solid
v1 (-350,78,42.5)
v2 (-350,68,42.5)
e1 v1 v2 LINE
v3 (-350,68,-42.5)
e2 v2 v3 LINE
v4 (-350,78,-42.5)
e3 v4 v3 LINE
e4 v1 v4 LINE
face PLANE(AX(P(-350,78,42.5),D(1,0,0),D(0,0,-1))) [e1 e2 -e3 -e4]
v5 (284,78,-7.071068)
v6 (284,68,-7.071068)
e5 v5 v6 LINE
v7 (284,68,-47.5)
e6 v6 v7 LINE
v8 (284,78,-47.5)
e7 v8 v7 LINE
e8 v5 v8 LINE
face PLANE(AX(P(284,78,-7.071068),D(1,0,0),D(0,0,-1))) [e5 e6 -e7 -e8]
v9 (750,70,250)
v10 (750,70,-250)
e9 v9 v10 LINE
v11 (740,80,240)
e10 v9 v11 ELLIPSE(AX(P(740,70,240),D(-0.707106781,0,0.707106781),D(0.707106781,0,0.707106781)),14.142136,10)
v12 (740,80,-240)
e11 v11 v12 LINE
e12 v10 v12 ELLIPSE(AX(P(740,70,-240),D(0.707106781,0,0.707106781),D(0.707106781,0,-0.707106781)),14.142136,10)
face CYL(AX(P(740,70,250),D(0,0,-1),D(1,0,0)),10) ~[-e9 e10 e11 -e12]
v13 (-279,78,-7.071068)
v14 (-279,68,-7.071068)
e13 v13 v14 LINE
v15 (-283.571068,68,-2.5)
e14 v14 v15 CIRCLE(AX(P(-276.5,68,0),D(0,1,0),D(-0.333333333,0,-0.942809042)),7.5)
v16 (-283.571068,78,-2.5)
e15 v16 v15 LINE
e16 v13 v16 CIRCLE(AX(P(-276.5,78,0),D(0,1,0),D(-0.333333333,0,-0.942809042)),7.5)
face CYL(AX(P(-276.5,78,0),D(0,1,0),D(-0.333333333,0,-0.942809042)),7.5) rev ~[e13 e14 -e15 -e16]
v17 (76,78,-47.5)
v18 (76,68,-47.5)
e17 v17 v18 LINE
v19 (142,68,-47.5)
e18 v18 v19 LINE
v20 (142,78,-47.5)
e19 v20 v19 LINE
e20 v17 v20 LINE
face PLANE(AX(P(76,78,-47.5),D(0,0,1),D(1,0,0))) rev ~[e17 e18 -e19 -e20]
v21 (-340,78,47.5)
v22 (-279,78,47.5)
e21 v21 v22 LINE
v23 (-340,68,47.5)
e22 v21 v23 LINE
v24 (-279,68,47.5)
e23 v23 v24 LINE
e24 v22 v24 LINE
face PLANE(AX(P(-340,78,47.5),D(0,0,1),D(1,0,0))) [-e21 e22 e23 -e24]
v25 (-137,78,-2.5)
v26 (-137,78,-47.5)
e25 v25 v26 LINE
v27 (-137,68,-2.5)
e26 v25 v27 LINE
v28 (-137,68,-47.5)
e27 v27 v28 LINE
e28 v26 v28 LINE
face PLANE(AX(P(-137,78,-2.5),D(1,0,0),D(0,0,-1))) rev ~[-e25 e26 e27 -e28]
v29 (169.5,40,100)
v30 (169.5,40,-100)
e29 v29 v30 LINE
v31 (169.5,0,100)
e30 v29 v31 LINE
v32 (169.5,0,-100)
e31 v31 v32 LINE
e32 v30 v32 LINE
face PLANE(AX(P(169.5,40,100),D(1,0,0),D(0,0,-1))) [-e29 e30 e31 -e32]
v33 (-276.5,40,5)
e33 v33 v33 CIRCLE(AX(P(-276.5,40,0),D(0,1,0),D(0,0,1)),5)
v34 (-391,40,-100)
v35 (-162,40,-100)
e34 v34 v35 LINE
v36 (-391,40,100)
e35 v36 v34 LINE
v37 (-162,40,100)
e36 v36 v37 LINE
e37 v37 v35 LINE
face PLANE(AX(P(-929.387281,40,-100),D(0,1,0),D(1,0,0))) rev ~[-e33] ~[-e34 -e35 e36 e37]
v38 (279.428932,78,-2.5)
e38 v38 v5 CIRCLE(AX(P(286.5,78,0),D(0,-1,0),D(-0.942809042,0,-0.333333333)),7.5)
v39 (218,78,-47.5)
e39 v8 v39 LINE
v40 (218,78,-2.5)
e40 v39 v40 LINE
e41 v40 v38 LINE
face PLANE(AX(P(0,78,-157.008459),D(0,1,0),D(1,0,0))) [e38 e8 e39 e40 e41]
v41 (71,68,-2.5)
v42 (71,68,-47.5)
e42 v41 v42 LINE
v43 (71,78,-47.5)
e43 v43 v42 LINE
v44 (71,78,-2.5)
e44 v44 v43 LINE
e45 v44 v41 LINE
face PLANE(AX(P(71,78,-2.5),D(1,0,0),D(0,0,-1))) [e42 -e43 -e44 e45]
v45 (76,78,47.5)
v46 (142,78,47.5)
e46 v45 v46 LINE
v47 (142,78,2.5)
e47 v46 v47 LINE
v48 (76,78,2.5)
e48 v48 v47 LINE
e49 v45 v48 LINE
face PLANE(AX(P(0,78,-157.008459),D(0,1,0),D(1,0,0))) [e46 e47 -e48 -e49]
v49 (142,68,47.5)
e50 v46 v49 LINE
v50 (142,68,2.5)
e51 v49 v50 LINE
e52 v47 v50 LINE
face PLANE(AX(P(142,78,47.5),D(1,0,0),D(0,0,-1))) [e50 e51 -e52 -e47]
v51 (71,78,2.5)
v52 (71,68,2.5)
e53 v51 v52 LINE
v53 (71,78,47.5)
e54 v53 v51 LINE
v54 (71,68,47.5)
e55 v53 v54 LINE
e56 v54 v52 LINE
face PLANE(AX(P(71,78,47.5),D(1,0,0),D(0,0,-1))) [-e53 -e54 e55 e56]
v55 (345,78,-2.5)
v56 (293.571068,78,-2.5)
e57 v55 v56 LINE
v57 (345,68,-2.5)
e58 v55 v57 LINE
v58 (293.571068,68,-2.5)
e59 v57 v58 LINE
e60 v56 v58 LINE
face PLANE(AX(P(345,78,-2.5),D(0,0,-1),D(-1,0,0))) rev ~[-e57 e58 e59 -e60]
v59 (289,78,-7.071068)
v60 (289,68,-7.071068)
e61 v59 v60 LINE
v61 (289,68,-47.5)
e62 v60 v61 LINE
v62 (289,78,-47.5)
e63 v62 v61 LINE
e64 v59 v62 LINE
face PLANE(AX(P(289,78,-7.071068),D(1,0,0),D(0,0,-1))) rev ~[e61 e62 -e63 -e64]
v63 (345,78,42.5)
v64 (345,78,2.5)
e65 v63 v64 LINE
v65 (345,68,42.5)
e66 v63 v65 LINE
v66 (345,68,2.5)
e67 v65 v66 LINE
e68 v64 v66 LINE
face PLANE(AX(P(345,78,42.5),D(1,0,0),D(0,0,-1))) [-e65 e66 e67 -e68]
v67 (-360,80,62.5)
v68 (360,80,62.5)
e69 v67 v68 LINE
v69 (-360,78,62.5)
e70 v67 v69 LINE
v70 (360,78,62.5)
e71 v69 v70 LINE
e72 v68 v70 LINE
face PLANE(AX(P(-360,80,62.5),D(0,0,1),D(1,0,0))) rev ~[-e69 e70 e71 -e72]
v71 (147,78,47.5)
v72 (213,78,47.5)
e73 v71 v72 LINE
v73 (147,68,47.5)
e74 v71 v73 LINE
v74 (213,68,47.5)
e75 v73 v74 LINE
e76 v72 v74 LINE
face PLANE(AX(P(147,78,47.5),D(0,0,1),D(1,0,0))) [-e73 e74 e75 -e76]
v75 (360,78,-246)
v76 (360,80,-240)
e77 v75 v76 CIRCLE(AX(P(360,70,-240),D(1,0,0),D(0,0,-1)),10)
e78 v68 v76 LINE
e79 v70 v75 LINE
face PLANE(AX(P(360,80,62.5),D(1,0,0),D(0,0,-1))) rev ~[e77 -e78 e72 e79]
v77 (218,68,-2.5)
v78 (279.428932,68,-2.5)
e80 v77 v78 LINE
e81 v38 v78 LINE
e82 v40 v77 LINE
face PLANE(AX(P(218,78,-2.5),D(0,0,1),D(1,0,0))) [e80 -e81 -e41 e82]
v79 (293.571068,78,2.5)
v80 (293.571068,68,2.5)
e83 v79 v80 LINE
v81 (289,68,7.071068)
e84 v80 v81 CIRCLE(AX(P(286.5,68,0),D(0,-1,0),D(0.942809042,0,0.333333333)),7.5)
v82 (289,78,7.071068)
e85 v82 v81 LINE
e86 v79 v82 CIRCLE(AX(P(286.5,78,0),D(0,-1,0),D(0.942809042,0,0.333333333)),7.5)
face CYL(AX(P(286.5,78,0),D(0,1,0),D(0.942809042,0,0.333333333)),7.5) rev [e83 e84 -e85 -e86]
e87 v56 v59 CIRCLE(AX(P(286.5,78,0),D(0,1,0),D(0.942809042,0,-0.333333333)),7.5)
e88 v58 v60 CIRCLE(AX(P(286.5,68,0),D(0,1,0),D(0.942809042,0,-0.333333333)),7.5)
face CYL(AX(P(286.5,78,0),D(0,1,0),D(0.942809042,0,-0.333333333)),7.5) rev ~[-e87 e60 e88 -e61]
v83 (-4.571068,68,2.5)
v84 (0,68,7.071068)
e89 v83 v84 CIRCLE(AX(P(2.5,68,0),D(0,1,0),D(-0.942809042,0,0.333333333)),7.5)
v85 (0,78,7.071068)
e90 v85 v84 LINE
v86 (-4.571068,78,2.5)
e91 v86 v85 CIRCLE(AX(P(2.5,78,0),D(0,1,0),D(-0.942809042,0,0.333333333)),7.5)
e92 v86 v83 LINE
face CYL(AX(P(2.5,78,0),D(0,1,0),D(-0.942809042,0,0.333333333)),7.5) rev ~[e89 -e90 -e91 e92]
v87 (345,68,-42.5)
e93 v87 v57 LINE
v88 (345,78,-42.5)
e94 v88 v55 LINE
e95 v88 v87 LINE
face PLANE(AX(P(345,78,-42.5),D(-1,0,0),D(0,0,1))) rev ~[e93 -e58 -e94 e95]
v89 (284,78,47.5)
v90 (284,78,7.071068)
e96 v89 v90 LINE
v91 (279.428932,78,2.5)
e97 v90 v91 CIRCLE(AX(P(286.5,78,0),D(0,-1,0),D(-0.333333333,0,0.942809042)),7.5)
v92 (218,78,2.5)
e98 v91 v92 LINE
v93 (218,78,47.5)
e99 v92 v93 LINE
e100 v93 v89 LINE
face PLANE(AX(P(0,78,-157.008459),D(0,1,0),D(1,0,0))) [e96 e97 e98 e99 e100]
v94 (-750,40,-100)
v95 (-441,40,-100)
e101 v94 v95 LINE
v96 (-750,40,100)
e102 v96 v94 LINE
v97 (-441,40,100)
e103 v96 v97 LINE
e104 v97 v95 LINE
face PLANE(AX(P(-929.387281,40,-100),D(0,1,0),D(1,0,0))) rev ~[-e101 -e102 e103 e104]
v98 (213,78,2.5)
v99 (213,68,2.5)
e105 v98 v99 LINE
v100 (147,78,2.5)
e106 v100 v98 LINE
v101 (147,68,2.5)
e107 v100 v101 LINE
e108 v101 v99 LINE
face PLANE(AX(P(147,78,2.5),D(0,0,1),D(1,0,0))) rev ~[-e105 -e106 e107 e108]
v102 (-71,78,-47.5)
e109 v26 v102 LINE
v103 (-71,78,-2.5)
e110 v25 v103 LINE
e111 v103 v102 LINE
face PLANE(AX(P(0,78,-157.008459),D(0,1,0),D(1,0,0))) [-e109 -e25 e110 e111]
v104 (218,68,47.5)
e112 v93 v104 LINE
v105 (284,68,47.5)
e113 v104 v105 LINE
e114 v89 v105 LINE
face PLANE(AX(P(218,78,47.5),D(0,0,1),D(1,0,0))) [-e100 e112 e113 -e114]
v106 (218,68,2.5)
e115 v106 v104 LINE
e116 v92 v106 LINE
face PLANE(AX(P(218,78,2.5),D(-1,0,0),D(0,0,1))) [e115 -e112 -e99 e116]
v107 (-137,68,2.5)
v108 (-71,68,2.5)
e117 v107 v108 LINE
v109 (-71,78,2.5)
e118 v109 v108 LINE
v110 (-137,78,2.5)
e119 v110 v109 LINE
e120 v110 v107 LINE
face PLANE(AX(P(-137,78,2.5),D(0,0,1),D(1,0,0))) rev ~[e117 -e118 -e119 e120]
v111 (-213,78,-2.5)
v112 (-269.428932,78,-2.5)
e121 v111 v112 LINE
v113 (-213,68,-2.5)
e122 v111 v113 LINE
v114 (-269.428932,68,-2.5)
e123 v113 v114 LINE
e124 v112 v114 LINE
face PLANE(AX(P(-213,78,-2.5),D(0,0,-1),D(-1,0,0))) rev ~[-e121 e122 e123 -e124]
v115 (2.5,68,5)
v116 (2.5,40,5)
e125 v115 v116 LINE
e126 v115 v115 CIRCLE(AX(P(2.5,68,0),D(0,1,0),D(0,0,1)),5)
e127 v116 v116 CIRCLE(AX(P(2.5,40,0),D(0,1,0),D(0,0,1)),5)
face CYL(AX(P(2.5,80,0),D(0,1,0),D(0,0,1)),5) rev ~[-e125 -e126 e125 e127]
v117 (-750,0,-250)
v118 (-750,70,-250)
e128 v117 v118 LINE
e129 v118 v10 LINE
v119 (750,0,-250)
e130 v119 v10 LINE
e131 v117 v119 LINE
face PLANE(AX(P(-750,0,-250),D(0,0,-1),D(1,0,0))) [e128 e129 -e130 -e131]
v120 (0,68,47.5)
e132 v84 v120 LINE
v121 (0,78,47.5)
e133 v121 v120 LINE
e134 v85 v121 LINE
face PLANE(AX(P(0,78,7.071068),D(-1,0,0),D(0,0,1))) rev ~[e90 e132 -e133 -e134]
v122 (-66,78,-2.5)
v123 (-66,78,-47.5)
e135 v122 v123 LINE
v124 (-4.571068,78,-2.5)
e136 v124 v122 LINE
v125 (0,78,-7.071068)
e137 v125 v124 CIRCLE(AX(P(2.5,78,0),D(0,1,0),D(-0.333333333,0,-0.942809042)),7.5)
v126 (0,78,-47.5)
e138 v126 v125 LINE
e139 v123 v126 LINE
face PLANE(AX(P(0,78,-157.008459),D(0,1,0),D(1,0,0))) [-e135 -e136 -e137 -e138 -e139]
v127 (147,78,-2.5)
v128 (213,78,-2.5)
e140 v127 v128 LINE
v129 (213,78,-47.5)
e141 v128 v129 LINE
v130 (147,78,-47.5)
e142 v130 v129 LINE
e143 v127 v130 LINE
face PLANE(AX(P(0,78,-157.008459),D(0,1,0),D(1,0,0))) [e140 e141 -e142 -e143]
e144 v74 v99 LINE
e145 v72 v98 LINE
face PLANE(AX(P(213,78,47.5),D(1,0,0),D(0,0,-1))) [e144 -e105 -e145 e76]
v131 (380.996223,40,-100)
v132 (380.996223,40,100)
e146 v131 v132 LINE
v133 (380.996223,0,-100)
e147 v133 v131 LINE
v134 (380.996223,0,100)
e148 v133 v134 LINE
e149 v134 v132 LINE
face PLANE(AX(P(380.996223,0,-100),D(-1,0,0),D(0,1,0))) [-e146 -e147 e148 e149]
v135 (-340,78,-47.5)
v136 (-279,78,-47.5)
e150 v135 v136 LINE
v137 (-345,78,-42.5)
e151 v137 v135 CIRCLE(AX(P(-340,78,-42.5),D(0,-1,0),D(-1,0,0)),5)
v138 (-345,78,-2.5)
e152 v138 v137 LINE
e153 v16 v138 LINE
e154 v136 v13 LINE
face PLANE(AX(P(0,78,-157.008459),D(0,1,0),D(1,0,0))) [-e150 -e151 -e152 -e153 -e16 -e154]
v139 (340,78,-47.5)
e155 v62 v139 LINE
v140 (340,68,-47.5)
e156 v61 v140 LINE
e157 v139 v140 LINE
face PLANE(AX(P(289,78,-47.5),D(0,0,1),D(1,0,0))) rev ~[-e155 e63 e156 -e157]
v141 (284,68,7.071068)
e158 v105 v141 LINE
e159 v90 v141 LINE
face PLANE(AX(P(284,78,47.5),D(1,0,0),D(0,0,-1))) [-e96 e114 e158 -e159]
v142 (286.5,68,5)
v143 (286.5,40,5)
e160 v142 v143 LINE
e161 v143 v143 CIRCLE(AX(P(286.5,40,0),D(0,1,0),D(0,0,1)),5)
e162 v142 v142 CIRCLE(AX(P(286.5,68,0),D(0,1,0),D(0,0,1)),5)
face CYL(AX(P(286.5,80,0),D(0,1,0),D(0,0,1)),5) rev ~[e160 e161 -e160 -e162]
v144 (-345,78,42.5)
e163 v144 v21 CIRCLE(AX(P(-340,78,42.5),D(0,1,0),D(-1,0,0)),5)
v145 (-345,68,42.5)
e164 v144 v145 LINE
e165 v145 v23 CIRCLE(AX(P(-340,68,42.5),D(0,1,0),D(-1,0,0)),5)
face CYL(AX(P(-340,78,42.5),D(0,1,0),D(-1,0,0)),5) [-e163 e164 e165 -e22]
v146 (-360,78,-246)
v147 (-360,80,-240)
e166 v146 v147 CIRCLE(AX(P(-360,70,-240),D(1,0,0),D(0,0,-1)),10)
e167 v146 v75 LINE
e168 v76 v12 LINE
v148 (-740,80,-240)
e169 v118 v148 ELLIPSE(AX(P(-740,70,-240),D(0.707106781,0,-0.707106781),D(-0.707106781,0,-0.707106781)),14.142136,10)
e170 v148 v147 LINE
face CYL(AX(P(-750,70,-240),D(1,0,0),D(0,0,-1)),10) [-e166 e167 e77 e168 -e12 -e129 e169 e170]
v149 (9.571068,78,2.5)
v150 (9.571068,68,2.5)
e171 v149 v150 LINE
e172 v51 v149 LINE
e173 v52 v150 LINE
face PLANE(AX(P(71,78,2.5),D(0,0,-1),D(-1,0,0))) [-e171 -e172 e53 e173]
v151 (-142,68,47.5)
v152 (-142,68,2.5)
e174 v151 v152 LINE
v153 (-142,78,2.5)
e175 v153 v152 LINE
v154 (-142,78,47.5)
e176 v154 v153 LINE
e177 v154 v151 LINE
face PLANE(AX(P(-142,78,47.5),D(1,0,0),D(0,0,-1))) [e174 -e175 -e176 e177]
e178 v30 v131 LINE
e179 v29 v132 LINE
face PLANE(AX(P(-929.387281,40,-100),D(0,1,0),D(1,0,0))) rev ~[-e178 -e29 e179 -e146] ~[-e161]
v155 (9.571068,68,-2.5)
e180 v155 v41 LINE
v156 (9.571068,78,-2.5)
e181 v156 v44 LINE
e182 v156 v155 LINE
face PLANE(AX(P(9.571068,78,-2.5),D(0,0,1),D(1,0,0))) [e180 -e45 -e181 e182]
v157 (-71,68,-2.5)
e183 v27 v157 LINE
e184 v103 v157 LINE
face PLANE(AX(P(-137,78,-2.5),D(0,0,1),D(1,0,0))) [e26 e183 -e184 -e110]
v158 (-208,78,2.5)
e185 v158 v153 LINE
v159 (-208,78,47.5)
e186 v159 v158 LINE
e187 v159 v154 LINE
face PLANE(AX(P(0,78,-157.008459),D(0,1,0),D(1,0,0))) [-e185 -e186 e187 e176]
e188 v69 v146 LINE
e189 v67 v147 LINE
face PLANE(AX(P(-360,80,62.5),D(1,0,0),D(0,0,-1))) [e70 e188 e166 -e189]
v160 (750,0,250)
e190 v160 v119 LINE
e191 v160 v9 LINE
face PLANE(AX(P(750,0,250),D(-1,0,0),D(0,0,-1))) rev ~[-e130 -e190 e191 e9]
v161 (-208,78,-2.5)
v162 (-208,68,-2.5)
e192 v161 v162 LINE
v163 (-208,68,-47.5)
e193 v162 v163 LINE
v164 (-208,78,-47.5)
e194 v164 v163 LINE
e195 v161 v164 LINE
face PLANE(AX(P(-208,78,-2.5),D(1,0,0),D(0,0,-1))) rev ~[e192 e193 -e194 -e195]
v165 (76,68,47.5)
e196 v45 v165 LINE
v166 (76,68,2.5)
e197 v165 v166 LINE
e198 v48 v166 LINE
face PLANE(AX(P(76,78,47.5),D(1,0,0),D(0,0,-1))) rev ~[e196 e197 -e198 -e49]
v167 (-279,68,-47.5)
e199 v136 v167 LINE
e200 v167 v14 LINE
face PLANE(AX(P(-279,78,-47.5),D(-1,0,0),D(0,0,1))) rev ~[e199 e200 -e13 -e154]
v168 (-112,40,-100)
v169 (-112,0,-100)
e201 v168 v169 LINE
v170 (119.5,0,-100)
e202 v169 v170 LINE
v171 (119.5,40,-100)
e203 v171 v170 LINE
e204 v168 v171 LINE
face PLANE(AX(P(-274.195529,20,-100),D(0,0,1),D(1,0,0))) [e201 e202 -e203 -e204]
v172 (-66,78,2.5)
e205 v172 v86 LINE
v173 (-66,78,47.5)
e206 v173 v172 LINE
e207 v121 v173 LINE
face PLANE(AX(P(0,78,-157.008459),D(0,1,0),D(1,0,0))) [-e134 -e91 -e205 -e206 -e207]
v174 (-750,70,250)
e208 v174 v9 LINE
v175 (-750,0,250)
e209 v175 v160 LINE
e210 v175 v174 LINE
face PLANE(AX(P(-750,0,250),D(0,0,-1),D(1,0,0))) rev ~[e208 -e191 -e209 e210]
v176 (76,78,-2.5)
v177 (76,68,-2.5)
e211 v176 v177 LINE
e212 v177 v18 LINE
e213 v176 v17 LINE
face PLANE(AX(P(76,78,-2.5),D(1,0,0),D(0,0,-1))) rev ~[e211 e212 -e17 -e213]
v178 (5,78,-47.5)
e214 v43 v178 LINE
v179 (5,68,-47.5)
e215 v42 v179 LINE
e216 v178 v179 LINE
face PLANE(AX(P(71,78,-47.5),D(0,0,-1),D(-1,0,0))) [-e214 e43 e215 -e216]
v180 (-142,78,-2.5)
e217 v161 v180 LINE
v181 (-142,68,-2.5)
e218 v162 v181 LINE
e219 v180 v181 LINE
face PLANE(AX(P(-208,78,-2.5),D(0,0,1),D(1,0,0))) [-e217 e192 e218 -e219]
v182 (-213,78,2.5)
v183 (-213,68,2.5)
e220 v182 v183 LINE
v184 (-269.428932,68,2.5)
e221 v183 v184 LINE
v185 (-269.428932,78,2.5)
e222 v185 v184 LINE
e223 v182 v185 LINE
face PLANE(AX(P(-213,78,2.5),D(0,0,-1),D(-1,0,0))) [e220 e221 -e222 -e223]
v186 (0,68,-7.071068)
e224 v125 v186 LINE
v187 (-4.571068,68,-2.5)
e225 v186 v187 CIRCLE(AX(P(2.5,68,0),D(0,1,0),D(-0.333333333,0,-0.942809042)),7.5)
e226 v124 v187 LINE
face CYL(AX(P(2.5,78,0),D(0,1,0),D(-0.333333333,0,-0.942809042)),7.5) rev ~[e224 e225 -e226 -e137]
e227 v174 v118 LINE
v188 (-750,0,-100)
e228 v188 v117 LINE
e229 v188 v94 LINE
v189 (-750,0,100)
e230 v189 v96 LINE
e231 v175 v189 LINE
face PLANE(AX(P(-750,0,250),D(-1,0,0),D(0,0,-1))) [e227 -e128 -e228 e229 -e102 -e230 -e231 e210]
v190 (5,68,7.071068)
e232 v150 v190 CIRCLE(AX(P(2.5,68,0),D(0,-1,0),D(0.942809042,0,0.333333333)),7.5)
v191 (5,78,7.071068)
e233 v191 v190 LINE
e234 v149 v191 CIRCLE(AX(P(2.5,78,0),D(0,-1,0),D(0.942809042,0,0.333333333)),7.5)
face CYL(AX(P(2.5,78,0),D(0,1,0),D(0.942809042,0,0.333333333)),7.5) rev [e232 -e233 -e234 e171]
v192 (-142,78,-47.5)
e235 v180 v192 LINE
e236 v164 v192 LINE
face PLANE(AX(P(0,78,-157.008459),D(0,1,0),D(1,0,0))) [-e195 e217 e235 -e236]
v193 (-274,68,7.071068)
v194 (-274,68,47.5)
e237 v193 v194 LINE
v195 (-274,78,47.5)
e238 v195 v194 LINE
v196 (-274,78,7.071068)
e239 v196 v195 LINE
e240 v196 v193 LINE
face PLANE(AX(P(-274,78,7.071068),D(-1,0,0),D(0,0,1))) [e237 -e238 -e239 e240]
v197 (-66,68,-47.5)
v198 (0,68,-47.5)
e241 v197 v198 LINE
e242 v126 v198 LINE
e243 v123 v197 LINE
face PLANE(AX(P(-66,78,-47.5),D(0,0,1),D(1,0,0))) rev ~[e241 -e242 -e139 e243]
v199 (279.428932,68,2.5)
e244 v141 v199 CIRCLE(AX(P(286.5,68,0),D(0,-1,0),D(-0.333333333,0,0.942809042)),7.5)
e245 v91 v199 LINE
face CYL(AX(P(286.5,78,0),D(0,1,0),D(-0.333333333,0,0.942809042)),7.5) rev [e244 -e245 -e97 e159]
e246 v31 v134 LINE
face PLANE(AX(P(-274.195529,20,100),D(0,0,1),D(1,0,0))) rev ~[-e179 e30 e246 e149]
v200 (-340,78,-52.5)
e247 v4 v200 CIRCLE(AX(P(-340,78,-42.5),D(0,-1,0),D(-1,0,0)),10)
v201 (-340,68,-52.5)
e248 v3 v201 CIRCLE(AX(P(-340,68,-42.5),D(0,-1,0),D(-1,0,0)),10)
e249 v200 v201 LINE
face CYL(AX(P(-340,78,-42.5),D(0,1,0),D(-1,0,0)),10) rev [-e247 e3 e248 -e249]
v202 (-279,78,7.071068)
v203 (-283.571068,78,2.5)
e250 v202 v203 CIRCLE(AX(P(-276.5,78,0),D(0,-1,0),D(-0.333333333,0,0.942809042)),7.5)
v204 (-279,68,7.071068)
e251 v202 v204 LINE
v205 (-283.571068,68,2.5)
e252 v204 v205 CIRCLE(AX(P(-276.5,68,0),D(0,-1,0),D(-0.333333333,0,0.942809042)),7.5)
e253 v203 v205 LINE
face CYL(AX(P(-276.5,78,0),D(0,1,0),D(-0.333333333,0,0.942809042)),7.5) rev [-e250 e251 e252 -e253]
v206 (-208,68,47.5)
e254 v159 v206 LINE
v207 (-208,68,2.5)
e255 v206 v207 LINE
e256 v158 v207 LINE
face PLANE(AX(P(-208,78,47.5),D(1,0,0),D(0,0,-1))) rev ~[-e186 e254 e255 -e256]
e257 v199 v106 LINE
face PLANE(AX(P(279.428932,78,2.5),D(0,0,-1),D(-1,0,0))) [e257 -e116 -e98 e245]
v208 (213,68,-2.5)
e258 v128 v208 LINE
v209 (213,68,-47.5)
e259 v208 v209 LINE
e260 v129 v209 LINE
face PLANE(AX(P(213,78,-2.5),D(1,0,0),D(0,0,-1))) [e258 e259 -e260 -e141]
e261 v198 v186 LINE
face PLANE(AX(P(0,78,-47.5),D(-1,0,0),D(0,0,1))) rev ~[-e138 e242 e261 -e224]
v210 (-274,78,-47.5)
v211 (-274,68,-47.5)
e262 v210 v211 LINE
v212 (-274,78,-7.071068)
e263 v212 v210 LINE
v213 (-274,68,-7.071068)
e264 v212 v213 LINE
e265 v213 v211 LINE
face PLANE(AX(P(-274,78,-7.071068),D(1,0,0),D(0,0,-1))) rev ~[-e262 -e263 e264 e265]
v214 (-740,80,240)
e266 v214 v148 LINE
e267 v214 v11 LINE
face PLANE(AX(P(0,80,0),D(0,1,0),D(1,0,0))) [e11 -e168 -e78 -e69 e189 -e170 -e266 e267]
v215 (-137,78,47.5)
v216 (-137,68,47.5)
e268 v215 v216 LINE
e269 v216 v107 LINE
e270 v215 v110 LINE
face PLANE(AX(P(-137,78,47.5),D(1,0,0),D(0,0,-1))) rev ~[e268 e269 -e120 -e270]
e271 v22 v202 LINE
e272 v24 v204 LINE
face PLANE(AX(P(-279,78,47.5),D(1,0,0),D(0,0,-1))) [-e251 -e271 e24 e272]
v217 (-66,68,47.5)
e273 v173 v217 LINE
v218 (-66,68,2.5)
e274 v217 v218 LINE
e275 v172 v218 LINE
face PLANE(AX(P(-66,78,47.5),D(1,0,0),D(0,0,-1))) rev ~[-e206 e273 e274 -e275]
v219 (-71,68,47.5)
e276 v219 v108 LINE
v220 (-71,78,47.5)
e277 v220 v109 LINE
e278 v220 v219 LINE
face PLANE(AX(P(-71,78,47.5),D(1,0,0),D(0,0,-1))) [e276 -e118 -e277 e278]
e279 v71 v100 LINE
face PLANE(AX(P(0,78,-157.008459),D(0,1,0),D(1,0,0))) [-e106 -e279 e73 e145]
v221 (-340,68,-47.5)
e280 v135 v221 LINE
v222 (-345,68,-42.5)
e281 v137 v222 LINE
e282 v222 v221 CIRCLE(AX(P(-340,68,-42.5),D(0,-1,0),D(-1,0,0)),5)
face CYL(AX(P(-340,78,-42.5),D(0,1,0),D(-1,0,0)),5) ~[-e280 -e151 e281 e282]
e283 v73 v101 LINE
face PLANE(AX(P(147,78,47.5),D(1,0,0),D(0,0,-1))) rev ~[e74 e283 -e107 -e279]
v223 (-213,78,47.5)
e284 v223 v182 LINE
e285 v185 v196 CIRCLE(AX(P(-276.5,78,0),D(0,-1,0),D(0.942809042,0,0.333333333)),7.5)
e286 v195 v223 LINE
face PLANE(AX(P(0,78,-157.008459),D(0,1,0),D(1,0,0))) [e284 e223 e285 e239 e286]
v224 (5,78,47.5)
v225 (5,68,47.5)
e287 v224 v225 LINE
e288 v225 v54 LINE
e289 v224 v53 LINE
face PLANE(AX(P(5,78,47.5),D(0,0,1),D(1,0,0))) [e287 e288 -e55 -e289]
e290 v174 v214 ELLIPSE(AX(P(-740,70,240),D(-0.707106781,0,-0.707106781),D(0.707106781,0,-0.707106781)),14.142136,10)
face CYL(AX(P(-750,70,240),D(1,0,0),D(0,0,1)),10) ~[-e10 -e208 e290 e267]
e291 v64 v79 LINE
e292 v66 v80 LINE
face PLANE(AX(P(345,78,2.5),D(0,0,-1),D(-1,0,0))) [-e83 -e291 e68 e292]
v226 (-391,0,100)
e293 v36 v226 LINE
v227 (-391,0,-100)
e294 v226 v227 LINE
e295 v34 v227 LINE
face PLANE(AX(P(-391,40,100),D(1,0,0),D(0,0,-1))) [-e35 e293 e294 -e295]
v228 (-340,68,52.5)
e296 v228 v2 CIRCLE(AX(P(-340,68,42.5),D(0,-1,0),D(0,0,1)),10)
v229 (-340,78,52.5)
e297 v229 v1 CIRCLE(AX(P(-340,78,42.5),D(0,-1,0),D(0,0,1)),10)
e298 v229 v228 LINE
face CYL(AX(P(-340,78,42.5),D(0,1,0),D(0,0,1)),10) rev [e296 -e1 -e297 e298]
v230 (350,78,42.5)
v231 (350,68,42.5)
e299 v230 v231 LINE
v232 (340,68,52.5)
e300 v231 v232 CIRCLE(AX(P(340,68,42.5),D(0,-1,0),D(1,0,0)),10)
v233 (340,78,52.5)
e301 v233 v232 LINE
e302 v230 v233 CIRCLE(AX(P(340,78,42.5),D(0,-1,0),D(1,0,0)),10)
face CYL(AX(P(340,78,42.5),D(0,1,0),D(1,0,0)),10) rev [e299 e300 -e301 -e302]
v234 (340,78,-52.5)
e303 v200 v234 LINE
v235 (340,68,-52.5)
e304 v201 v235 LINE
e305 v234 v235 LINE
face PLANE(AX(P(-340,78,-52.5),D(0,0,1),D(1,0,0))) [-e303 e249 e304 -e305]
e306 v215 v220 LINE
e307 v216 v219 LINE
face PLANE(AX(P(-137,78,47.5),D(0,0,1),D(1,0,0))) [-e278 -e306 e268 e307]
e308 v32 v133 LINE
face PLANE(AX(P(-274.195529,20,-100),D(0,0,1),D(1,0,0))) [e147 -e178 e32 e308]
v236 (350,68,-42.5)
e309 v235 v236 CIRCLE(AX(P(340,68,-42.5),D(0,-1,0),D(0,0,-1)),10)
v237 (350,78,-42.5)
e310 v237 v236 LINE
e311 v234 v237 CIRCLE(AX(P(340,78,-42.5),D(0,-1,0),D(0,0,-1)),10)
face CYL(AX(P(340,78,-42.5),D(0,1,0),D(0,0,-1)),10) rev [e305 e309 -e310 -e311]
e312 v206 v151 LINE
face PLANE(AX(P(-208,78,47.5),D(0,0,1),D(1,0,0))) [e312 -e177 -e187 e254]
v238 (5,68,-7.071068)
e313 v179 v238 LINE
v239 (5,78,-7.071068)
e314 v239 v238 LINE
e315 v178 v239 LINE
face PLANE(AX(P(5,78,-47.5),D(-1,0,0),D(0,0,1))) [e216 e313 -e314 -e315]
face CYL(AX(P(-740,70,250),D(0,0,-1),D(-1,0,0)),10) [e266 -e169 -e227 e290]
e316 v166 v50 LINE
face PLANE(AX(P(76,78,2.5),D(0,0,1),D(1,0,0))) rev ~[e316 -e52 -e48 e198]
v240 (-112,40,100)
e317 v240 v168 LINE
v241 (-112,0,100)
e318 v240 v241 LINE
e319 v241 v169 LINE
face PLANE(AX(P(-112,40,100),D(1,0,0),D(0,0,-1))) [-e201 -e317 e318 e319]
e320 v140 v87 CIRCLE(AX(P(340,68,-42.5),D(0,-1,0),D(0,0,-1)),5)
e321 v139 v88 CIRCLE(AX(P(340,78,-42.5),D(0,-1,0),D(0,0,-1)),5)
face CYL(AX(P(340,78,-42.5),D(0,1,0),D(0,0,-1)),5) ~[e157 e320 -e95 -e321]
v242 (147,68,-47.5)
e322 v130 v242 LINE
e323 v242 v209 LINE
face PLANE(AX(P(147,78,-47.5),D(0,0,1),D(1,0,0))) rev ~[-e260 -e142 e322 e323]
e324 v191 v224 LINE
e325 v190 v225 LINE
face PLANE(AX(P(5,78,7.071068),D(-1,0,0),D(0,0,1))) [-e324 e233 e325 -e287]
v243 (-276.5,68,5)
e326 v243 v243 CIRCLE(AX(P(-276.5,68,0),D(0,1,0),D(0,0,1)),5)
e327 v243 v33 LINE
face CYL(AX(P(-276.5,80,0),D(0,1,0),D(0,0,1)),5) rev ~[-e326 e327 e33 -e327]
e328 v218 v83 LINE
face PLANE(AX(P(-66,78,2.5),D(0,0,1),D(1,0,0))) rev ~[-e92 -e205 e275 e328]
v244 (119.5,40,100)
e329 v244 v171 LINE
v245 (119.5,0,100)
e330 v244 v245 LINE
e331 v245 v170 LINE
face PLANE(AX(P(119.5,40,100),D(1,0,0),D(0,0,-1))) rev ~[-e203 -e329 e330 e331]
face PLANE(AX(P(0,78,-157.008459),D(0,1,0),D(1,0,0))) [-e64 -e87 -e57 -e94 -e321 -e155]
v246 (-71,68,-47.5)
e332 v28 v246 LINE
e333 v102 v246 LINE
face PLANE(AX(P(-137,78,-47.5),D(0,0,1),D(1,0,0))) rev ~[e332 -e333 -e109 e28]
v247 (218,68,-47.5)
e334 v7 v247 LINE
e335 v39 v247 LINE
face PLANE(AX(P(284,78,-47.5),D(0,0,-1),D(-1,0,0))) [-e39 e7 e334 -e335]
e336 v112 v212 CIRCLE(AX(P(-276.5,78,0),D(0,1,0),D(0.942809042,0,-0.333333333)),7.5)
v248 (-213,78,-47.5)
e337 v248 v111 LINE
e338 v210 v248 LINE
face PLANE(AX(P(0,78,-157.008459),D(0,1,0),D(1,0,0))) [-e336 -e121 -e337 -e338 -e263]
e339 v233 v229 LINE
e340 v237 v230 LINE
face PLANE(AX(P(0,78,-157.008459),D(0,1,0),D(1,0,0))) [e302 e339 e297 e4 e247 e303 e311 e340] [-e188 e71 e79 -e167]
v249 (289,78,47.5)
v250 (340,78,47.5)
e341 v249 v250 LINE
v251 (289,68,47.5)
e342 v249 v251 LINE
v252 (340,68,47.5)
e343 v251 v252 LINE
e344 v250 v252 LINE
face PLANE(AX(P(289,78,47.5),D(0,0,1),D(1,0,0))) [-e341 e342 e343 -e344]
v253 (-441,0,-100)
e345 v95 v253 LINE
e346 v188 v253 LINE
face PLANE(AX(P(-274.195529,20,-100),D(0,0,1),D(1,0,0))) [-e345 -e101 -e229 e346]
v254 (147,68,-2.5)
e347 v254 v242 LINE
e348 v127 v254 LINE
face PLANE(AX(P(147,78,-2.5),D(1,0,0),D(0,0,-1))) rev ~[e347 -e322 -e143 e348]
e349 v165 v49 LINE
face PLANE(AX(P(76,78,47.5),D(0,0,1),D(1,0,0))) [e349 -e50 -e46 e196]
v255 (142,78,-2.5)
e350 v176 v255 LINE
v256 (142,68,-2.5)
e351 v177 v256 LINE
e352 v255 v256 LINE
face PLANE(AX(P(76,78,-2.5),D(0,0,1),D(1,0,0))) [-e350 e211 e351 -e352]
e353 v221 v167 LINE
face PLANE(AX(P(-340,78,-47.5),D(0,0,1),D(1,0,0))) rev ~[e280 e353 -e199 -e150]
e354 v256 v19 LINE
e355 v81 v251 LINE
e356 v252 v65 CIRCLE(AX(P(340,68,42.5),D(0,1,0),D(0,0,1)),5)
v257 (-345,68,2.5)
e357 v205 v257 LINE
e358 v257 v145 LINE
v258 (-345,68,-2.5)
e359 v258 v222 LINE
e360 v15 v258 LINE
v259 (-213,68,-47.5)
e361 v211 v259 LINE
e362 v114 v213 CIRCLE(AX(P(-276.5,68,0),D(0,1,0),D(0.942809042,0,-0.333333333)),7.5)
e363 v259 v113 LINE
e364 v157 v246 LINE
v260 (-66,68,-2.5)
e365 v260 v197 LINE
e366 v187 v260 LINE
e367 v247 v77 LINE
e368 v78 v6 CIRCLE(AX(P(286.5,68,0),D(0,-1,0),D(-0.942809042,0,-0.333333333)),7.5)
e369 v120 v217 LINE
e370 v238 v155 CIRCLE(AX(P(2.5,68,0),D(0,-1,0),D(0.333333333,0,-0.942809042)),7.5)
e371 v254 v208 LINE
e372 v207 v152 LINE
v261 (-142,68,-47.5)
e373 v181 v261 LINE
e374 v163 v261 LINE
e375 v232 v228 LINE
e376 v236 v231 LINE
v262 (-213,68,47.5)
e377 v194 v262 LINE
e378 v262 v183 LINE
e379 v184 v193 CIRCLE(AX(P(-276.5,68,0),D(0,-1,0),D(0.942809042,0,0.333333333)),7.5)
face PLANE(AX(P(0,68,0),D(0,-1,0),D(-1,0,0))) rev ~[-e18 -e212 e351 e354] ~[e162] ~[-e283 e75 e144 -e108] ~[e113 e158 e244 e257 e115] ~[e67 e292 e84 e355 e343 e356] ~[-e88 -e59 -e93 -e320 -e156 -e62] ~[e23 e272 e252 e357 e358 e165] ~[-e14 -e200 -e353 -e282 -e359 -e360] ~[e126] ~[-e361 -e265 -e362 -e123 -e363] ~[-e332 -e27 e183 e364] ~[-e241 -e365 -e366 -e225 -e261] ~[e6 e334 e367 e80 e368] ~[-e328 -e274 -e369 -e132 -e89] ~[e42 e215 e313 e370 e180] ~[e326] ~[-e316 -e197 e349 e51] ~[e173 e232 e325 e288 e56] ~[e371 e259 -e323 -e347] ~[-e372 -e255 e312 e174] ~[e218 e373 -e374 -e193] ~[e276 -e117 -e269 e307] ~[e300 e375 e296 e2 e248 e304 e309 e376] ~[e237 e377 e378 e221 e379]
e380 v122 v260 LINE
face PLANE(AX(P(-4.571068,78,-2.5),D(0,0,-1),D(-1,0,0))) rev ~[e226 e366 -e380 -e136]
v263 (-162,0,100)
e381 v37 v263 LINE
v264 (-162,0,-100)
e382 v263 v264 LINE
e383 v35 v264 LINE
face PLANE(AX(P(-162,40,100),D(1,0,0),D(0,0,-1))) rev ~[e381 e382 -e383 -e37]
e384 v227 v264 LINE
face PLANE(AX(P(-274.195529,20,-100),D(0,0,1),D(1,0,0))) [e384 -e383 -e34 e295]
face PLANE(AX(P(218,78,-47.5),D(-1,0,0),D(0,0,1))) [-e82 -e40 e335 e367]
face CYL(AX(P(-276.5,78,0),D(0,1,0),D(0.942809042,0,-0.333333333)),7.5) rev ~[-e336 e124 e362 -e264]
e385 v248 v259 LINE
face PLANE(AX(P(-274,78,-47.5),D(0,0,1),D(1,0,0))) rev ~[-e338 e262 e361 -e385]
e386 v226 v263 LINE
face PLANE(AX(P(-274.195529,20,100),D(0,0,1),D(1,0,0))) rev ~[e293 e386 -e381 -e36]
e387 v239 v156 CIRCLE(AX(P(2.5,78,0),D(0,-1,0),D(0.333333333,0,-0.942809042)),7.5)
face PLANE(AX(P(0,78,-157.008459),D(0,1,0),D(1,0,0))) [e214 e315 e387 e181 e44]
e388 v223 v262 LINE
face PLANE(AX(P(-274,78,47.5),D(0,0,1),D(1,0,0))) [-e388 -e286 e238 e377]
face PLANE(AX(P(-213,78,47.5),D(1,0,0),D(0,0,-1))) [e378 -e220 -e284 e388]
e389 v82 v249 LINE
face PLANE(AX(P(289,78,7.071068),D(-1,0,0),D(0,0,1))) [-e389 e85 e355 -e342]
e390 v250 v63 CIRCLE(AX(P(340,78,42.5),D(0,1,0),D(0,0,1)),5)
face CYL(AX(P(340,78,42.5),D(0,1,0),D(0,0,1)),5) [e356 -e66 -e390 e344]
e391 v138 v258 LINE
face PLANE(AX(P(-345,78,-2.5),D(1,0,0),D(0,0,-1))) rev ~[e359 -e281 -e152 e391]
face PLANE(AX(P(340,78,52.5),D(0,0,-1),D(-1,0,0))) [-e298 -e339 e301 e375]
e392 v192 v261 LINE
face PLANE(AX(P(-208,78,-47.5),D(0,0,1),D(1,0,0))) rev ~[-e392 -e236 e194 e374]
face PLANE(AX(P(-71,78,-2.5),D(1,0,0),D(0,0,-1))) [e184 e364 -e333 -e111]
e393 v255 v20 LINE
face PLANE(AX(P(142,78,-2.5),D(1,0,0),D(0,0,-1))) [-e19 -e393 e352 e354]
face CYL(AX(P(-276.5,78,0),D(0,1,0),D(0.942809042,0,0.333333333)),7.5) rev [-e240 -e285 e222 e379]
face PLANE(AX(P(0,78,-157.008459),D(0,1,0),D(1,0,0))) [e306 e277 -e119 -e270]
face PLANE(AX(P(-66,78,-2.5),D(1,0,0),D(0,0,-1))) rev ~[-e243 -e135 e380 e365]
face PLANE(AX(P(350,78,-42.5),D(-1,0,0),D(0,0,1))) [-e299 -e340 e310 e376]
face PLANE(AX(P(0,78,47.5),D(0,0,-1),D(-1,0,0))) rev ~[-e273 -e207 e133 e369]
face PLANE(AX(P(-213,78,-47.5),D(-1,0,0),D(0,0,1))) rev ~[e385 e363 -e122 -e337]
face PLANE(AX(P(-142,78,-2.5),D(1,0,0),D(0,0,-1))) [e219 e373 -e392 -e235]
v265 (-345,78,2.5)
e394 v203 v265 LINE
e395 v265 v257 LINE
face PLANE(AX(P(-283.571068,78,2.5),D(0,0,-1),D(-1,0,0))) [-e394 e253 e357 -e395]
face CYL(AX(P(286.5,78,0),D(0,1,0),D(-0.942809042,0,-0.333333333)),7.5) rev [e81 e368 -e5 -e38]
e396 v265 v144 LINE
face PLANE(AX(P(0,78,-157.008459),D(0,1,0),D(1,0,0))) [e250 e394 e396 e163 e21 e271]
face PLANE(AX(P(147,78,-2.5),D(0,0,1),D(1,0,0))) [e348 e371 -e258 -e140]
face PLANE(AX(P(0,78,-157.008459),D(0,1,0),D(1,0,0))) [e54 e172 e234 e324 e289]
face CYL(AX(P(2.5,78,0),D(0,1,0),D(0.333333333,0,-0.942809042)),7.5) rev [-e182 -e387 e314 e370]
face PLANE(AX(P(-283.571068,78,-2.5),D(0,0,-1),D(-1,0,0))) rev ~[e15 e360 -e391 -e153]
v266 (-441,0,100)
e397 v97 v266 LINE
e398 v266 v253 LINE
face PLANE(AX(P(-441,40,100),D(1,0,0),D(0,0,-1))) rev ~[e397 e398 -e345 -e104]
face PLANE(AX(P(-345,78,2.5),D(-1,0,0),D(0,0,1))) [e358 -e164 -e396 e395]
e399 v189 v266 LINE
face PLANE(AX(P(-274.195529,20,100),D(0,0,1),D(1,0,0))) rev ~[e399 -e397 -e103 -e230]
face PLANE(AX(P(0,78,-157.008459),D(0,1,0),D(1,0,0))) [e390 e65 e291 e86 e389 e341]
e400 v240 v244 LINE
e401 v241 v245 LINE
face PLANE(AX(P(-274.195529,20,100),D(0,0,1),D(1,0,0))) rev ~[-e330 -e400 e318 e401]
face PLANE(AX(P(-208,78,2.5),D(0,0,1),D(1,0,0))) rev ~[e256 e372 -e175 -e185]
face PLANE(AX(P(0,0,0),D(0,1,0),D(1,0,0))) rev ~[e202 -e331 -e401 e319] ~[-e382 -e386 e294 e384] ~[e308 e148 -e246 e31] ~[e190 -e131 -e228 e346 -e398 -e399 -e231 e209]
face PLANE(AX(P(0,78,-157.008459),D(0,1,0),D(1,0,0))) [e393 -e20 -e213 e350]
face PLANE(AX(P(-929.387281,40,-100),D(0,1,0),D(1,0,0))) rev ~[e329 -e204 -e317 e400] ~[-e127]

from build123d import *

# Parameters (mm, degrees)
SKETCH1_W               = 1500
SKETCH1_H               = 500
BOSS_EXTRUDE1_DEPTH     = 80
FILLET2_R               = 10
CUT_EXTRUDE2_START      = 80
SKETCH7_W               = 720
SKETCH7_H               = 439.016917436
CUT_EXTRUDE2_DEPTH      = 2
CUT_EXTRUDE1_START      = 78
SKETCH5_W               = 66
SKETCH5_H               = 45
CUT_EXTRUDE1_DEPTH      = 10
CUT_EXTRUDE3_START      = 80
SKETCH8_R               = 5
CUT_EXTRUDE3_DEPTH      = 875.606821013
CUT_EXTRUDE4_DEPTH      = 100
CUT_EXTRUDE4_DEPTH_BACK = 100
SKETCH9_W               = 1310.383503898
SKETCH9_H               = 40
BOSS_EXTRUDE2_START     = 40
SKETCH10_W              = 50
SKETCH10_H              = 200
BOSS_EXTRUDE2_DEPTH     = 40


with BuildPart() as part:
    # Sketch1 → Boss-Extrude1 (new body)
    with BuildSketch(Plane(origin=(0, 0, 0), x_dir=(1, 0, 0), z_dir=(0, 1, 0))):
        Rectangle(SKETCH1_W, SKETCH1_H)
    extrude(amount=BOSS_EXTRUDE1_DEPTH)

    # Fillet2
    fillet2_edges = [part.edges().sort_by_distance(p)[0] for p in [
        (-750, 80, 0),
        (0, 80, 250),
        (750, 80, 0),
        (0, 80, -250),
    ]]
    fillet(fillet2_edges, radius=FILLET2_R)

    # Sketch7 → Cut-Extrude2 (cut)
    with BuildSketch(Plane(origin=(0, 0, 0), x_dir=(1, 0, 0), z_dir=(0, 1, 0)).offset(CUT_EXTRUDE2_START)):
        with Locations((0, 157.008458718)):
            Rectangle(SKETCH7_W, SKETCH7_H)
    extrude(amount=-CUT_EXTRUDE2_DEPTH, mode=Mode.SUBTRACT)

    # Sketch5 → Cut-Extrude1 (cut)
    with BuildSketch(Plane(origin=(0, 0, 0), x_dir=(1, 0, 0), z_dir=(0, 1, 0)).offset(CUT_EXTRUDE1_START)):
        with BuildLine():
            Line((-340, 52.5), (340, 52.5))
            ThreePointArc((340, 52.5), (347.071067812, 49.571067812), (350, 42.5))
            Line((350, 42.5), (350, -42.5))
            ThreePointArc((350, -42.5), (347.071067812, -49.571067812), (340, -52.5))
            Line((340, -52.5), (-340, -52.5))
            ThreePointArc((-340, -52.5), (-347.071067812, -49.571067812), (-350, -42.5))
            Line((-350, -42.5), (-350, 42.5))
            ThreePointArc((-350, 42.5), (-347.071067812, 49.571067812), (-340, 52.5))
        make_face()
        with BuildLine():
            Line((-340, 47.5), (-279, 47.5))
            Line((-279, 47.5), (-279, 7.071067812))
            ThreePointArc((-279, 7.071067812), (-281.803300859, 5.303300859), (-283.571067812, 2.5))
            Line((-283.571067812, 2.5), (-345, 2.5))
            Line((-345, 2.5), (-345, 42.5))
            ThreePointArc((-345, 42.5), (-343.535533906, 46.035533906), (-340, 47.5))
        make_face(mode=Mode.SUBTRACT)
        with BuildLine():
            Line((-340, -47.5), (-279, -47.5))
            Line((-279, -47.5), (-279, -7.071067812))
            ThreePointArc((-279, -7.071067812), (-281.803300859, -5.303300859), (-283.571067812, -2.5))
            Line((-283.571067812, -2.5), (-345, -2.5))
            Line((-345, -2.5), (-345, -42.5))
            ThreePointArc((-345, -42.5), (-343.535533906, -46.035533906), (-340, -47.5))
        make_face(mode=Mode.SUBTRACT)
        with BuildLine():
            Line((345, 42.5), (345, 2.5))
            Line((345, 2.5), (293.571067812, 2.5))
            ThreePointArc((293.571067812, 2.5), (291.803300859, 5.303300859), (289, 7.071067812))
            Line((289, 7.071067812), (289, 47.5))
            Line((289, 47.5), (340, 47.5))
            ThreePointArc((340, 47.5), (343.535533906, 46.035533906), (345, 42.5))
        make_face(mode=Mode.SUBTRACT)
        with Locations((-175, -25)):
            Rectangle(SKETCH5_W, SKETCH5_H, mode=Mode.SUBTRACT)
        with BuildLine():
            Line((0, 47.5), (0, 7.071067812))
            ThreePointArc((0, 7.071067812), (-2.803300859, 5.303300859), (-4.571067812, 2.5))
            Line((-4.571067812, 2.5), (-66, 2.5))
            Line((-66, 2.5), (-66, 47.5))
            Line((-66, 47.5), (0, 47.5))
        make_face(mode=Mode.SUBTRACT)
        with BuildLine():
            Line((5, 47.5), (5, 7.071067812))
            ThreePointArc((5, 7.071067812), (7.803300859, 5.303300859), (9.571067812, 2.5))
            Line((9.571067812, 2.5), (71, 2.5))
            Line((71, 2.5), (71, 47.5))
            Line((71, 47.5), (5, 47.5))
        make_face(mode=Mode.SUBTRACT)
        with Locations((-104, 25)):
            Rectangle(SKETCH5_W, SKETCH5_H, mode=Mode.SUBTRACT)
        with Locations((109, 25)):
            Rectangle(SKETCH5_W, SKETCH5_H, mode=Mode.SUBTRACT)
        with Locations((180, 25)):
            Rectangle(SKETCH5_W, SKETCH5_H, mode=Mode.SUBTRACT)
        with BuildLine():
            Line((218, 47.5), (218, 2.5))
            Line((218, 2.5), (279.428932188, 2.5))
            ThreePointArc((279.428932188, 2.5), (281.196699141, 5.303300859), (284, 7.071067812))
            Line((284, 7.071067812), (284, 47.5))
            Line((284, 47.5), (218, 47.5))
        make_face(mode=Mode.SUBTRACT)
        with Locations((-175, 25)):
            Rectangle(SKETCH5_W, SKETCH5_H, mode=Mode.SUBTRACT)
        with BuildLine():
            Line((-213, 47.5), (-213, 2.5))
            Line((-213, 2.5), (-269.428932188, 2.5))
            ThreePointArc((-269.428932188, 2.5), (-271.196699141, 5.303300859), (-274, 7.071067812))
            Line((-274, 7.071067812), (-274, 47.5))
            Line((-274, 47.5), (-213, 47.5))
        make_face(mode=Mode.SUBTRACT)
        with BuildLine():
            Line((-274, -7.071067812), (-274, -47.5))
            Line((-274, -47.5), (-213, -47.5))
            Line((-213, -47.5), (-213, -2.5))
            Line((-213, -2.5), (-269.428932188, -2.5))
            ThreePointArc((-269.428932188, -2.5), (-271.196699141, -5.303300859), (-274, -7.071067812))
        make_face(mode=Mode.SUBTRACT)
        with Locations((-104, -25)):
            Rectangle(SKETCH5_W, SKETCH5_H, mode=Mode.SUBTRACT)
        with BuildLine():
            Line((-66, -2.5), (-4.571067812, -2.5))
            ThreePointArc((-4.571067812, -2.5), (-2.803300859, -5.303300859), (0, -7.071067812))
            Line((0, -7.071067812), (0, -47.5))
            Line((0, -47.5), (-66, -47.5))
            Line((-66, -47.5), (-66, -2.5))
        make_face(mode=Mode.SUBTRACT)
        with BuildLine():
            Line((5, -7.071067812), (5, -47.5))
            Line((5, -47.5), (71, -47.5))
            Line((71, -47.5), (71, -2.5))
            Line((71, -2.5), (9.571067812, -2.5))
            ThreePointArc((9.571067812, -2.5), (7.803300859, -5.303300859), (5, -7.071067812))
        make_face(mode=Mode.SUBTRACT)
        with Locations((109, -25)):
            Rectangle(SKETCH5_W, SKETCH5_H, mode=Mode.SUBTRACT)
        with Locations((180, -25)):
            Rectangle(SKETCH5_W, SKETCH5_H, mode=Mode.SUBTRACT)
        with BuildLine():
            Line((218, -2.5), (218, -47.5))
            Line((218, -47.5), (284, -47.5))
            Line((284, -47.5), (284, -7.071067812))
            ThreePointArc((284, -7.071067812), (281.196699141, -5.303300859), (279.428932188, -2.5))
            Line((279.428932188, -2.5), (218, -2.5))
        make_face(mode=Mode.SUBTRACT)
        with BuildLine():
            Line((289, -7.071067812), (289, -47.5))
            Line((289, -47.5), (340, -47.5))
            ThreePointArc((340, -47.5), (343.535533906, -46.035533906), (345, -42.5))
            Line((345, -42.5), (345, -2.5))
            Line((345, -2.5), (293.571067812, -2.5))
            ThreePointArc((293.571067812, -2.5), (291.803300859, -5.303300859), (289, -7.071067812))
        make_face(mode=Mode.SUBTRACT)
    extrude(amount=-CUT_EXTRUDE1_DEPTH, mode=Mode.SUBTRACT)

    # Sketch8 → Cut-Extrude3 (cut, through all)
    with BuildSketch(Plane(origin=(0, 0, 0), x_dir=(1, 0, 0), z_dir=(0, 1, 0)).offset(CUT_EXTRUDE3_START)):
        with Locations(Location((-276.5, 0, 0), (0, 0, 270))):
            Circle(SKETCH8_R)
        with Locations(Location((2.5, 0, 0), (0, 0, 270))):
            Circle(SKETCH8_R)
        with Locations(Location((286.5, 0, 0), (0, 0, 270))):
            Circle(SKETCH8_R)
    extrude(amount=-CUT_EXTRUDE3_DEPTH, mode=Mode.SUBTRACT)

    # Sketch9 → Cut-Extrude4 (cut, two sides: drawn at the far end of the back side and taken through both)
    with BuildSketch(Plane.XY.offset(-CUT_EXTRUDE4_DEPTH_BACK)):
        with Locations((-274.195529116, 20)):
            Rectangle(SKETCH9_W, SKETCH9_H)
    extrude(amount=CUT_EXTRUDE4_DEPTH + CUT_EXTRUDE4_DEPTH_BACK, mode=Mode.SUBTRACT)

    # Sketch10 → Boss-Extrude2 (add)
    with BuildSketch(Plane(origin=(0, 0, 0), x_dir=(1, 0, 0), z_dir=(0, 1, 0)).offset(BOSS_EXTRUDE2_START)):
        with Locations((-137, 0)):
            Rectangle(SKETCH10_W, SKETCH10_H)
        with Locations((144.5, 0)):
            Rectangle(SKETCH10_W, SKETCH10_H)
        with Locations((-416, 0)):
            Rectangle(SKETCH10_W, SKETCH10_H)
    extrude(amount=-BOSS_EXTRUDE2_DEPTH)


solid = part.part
